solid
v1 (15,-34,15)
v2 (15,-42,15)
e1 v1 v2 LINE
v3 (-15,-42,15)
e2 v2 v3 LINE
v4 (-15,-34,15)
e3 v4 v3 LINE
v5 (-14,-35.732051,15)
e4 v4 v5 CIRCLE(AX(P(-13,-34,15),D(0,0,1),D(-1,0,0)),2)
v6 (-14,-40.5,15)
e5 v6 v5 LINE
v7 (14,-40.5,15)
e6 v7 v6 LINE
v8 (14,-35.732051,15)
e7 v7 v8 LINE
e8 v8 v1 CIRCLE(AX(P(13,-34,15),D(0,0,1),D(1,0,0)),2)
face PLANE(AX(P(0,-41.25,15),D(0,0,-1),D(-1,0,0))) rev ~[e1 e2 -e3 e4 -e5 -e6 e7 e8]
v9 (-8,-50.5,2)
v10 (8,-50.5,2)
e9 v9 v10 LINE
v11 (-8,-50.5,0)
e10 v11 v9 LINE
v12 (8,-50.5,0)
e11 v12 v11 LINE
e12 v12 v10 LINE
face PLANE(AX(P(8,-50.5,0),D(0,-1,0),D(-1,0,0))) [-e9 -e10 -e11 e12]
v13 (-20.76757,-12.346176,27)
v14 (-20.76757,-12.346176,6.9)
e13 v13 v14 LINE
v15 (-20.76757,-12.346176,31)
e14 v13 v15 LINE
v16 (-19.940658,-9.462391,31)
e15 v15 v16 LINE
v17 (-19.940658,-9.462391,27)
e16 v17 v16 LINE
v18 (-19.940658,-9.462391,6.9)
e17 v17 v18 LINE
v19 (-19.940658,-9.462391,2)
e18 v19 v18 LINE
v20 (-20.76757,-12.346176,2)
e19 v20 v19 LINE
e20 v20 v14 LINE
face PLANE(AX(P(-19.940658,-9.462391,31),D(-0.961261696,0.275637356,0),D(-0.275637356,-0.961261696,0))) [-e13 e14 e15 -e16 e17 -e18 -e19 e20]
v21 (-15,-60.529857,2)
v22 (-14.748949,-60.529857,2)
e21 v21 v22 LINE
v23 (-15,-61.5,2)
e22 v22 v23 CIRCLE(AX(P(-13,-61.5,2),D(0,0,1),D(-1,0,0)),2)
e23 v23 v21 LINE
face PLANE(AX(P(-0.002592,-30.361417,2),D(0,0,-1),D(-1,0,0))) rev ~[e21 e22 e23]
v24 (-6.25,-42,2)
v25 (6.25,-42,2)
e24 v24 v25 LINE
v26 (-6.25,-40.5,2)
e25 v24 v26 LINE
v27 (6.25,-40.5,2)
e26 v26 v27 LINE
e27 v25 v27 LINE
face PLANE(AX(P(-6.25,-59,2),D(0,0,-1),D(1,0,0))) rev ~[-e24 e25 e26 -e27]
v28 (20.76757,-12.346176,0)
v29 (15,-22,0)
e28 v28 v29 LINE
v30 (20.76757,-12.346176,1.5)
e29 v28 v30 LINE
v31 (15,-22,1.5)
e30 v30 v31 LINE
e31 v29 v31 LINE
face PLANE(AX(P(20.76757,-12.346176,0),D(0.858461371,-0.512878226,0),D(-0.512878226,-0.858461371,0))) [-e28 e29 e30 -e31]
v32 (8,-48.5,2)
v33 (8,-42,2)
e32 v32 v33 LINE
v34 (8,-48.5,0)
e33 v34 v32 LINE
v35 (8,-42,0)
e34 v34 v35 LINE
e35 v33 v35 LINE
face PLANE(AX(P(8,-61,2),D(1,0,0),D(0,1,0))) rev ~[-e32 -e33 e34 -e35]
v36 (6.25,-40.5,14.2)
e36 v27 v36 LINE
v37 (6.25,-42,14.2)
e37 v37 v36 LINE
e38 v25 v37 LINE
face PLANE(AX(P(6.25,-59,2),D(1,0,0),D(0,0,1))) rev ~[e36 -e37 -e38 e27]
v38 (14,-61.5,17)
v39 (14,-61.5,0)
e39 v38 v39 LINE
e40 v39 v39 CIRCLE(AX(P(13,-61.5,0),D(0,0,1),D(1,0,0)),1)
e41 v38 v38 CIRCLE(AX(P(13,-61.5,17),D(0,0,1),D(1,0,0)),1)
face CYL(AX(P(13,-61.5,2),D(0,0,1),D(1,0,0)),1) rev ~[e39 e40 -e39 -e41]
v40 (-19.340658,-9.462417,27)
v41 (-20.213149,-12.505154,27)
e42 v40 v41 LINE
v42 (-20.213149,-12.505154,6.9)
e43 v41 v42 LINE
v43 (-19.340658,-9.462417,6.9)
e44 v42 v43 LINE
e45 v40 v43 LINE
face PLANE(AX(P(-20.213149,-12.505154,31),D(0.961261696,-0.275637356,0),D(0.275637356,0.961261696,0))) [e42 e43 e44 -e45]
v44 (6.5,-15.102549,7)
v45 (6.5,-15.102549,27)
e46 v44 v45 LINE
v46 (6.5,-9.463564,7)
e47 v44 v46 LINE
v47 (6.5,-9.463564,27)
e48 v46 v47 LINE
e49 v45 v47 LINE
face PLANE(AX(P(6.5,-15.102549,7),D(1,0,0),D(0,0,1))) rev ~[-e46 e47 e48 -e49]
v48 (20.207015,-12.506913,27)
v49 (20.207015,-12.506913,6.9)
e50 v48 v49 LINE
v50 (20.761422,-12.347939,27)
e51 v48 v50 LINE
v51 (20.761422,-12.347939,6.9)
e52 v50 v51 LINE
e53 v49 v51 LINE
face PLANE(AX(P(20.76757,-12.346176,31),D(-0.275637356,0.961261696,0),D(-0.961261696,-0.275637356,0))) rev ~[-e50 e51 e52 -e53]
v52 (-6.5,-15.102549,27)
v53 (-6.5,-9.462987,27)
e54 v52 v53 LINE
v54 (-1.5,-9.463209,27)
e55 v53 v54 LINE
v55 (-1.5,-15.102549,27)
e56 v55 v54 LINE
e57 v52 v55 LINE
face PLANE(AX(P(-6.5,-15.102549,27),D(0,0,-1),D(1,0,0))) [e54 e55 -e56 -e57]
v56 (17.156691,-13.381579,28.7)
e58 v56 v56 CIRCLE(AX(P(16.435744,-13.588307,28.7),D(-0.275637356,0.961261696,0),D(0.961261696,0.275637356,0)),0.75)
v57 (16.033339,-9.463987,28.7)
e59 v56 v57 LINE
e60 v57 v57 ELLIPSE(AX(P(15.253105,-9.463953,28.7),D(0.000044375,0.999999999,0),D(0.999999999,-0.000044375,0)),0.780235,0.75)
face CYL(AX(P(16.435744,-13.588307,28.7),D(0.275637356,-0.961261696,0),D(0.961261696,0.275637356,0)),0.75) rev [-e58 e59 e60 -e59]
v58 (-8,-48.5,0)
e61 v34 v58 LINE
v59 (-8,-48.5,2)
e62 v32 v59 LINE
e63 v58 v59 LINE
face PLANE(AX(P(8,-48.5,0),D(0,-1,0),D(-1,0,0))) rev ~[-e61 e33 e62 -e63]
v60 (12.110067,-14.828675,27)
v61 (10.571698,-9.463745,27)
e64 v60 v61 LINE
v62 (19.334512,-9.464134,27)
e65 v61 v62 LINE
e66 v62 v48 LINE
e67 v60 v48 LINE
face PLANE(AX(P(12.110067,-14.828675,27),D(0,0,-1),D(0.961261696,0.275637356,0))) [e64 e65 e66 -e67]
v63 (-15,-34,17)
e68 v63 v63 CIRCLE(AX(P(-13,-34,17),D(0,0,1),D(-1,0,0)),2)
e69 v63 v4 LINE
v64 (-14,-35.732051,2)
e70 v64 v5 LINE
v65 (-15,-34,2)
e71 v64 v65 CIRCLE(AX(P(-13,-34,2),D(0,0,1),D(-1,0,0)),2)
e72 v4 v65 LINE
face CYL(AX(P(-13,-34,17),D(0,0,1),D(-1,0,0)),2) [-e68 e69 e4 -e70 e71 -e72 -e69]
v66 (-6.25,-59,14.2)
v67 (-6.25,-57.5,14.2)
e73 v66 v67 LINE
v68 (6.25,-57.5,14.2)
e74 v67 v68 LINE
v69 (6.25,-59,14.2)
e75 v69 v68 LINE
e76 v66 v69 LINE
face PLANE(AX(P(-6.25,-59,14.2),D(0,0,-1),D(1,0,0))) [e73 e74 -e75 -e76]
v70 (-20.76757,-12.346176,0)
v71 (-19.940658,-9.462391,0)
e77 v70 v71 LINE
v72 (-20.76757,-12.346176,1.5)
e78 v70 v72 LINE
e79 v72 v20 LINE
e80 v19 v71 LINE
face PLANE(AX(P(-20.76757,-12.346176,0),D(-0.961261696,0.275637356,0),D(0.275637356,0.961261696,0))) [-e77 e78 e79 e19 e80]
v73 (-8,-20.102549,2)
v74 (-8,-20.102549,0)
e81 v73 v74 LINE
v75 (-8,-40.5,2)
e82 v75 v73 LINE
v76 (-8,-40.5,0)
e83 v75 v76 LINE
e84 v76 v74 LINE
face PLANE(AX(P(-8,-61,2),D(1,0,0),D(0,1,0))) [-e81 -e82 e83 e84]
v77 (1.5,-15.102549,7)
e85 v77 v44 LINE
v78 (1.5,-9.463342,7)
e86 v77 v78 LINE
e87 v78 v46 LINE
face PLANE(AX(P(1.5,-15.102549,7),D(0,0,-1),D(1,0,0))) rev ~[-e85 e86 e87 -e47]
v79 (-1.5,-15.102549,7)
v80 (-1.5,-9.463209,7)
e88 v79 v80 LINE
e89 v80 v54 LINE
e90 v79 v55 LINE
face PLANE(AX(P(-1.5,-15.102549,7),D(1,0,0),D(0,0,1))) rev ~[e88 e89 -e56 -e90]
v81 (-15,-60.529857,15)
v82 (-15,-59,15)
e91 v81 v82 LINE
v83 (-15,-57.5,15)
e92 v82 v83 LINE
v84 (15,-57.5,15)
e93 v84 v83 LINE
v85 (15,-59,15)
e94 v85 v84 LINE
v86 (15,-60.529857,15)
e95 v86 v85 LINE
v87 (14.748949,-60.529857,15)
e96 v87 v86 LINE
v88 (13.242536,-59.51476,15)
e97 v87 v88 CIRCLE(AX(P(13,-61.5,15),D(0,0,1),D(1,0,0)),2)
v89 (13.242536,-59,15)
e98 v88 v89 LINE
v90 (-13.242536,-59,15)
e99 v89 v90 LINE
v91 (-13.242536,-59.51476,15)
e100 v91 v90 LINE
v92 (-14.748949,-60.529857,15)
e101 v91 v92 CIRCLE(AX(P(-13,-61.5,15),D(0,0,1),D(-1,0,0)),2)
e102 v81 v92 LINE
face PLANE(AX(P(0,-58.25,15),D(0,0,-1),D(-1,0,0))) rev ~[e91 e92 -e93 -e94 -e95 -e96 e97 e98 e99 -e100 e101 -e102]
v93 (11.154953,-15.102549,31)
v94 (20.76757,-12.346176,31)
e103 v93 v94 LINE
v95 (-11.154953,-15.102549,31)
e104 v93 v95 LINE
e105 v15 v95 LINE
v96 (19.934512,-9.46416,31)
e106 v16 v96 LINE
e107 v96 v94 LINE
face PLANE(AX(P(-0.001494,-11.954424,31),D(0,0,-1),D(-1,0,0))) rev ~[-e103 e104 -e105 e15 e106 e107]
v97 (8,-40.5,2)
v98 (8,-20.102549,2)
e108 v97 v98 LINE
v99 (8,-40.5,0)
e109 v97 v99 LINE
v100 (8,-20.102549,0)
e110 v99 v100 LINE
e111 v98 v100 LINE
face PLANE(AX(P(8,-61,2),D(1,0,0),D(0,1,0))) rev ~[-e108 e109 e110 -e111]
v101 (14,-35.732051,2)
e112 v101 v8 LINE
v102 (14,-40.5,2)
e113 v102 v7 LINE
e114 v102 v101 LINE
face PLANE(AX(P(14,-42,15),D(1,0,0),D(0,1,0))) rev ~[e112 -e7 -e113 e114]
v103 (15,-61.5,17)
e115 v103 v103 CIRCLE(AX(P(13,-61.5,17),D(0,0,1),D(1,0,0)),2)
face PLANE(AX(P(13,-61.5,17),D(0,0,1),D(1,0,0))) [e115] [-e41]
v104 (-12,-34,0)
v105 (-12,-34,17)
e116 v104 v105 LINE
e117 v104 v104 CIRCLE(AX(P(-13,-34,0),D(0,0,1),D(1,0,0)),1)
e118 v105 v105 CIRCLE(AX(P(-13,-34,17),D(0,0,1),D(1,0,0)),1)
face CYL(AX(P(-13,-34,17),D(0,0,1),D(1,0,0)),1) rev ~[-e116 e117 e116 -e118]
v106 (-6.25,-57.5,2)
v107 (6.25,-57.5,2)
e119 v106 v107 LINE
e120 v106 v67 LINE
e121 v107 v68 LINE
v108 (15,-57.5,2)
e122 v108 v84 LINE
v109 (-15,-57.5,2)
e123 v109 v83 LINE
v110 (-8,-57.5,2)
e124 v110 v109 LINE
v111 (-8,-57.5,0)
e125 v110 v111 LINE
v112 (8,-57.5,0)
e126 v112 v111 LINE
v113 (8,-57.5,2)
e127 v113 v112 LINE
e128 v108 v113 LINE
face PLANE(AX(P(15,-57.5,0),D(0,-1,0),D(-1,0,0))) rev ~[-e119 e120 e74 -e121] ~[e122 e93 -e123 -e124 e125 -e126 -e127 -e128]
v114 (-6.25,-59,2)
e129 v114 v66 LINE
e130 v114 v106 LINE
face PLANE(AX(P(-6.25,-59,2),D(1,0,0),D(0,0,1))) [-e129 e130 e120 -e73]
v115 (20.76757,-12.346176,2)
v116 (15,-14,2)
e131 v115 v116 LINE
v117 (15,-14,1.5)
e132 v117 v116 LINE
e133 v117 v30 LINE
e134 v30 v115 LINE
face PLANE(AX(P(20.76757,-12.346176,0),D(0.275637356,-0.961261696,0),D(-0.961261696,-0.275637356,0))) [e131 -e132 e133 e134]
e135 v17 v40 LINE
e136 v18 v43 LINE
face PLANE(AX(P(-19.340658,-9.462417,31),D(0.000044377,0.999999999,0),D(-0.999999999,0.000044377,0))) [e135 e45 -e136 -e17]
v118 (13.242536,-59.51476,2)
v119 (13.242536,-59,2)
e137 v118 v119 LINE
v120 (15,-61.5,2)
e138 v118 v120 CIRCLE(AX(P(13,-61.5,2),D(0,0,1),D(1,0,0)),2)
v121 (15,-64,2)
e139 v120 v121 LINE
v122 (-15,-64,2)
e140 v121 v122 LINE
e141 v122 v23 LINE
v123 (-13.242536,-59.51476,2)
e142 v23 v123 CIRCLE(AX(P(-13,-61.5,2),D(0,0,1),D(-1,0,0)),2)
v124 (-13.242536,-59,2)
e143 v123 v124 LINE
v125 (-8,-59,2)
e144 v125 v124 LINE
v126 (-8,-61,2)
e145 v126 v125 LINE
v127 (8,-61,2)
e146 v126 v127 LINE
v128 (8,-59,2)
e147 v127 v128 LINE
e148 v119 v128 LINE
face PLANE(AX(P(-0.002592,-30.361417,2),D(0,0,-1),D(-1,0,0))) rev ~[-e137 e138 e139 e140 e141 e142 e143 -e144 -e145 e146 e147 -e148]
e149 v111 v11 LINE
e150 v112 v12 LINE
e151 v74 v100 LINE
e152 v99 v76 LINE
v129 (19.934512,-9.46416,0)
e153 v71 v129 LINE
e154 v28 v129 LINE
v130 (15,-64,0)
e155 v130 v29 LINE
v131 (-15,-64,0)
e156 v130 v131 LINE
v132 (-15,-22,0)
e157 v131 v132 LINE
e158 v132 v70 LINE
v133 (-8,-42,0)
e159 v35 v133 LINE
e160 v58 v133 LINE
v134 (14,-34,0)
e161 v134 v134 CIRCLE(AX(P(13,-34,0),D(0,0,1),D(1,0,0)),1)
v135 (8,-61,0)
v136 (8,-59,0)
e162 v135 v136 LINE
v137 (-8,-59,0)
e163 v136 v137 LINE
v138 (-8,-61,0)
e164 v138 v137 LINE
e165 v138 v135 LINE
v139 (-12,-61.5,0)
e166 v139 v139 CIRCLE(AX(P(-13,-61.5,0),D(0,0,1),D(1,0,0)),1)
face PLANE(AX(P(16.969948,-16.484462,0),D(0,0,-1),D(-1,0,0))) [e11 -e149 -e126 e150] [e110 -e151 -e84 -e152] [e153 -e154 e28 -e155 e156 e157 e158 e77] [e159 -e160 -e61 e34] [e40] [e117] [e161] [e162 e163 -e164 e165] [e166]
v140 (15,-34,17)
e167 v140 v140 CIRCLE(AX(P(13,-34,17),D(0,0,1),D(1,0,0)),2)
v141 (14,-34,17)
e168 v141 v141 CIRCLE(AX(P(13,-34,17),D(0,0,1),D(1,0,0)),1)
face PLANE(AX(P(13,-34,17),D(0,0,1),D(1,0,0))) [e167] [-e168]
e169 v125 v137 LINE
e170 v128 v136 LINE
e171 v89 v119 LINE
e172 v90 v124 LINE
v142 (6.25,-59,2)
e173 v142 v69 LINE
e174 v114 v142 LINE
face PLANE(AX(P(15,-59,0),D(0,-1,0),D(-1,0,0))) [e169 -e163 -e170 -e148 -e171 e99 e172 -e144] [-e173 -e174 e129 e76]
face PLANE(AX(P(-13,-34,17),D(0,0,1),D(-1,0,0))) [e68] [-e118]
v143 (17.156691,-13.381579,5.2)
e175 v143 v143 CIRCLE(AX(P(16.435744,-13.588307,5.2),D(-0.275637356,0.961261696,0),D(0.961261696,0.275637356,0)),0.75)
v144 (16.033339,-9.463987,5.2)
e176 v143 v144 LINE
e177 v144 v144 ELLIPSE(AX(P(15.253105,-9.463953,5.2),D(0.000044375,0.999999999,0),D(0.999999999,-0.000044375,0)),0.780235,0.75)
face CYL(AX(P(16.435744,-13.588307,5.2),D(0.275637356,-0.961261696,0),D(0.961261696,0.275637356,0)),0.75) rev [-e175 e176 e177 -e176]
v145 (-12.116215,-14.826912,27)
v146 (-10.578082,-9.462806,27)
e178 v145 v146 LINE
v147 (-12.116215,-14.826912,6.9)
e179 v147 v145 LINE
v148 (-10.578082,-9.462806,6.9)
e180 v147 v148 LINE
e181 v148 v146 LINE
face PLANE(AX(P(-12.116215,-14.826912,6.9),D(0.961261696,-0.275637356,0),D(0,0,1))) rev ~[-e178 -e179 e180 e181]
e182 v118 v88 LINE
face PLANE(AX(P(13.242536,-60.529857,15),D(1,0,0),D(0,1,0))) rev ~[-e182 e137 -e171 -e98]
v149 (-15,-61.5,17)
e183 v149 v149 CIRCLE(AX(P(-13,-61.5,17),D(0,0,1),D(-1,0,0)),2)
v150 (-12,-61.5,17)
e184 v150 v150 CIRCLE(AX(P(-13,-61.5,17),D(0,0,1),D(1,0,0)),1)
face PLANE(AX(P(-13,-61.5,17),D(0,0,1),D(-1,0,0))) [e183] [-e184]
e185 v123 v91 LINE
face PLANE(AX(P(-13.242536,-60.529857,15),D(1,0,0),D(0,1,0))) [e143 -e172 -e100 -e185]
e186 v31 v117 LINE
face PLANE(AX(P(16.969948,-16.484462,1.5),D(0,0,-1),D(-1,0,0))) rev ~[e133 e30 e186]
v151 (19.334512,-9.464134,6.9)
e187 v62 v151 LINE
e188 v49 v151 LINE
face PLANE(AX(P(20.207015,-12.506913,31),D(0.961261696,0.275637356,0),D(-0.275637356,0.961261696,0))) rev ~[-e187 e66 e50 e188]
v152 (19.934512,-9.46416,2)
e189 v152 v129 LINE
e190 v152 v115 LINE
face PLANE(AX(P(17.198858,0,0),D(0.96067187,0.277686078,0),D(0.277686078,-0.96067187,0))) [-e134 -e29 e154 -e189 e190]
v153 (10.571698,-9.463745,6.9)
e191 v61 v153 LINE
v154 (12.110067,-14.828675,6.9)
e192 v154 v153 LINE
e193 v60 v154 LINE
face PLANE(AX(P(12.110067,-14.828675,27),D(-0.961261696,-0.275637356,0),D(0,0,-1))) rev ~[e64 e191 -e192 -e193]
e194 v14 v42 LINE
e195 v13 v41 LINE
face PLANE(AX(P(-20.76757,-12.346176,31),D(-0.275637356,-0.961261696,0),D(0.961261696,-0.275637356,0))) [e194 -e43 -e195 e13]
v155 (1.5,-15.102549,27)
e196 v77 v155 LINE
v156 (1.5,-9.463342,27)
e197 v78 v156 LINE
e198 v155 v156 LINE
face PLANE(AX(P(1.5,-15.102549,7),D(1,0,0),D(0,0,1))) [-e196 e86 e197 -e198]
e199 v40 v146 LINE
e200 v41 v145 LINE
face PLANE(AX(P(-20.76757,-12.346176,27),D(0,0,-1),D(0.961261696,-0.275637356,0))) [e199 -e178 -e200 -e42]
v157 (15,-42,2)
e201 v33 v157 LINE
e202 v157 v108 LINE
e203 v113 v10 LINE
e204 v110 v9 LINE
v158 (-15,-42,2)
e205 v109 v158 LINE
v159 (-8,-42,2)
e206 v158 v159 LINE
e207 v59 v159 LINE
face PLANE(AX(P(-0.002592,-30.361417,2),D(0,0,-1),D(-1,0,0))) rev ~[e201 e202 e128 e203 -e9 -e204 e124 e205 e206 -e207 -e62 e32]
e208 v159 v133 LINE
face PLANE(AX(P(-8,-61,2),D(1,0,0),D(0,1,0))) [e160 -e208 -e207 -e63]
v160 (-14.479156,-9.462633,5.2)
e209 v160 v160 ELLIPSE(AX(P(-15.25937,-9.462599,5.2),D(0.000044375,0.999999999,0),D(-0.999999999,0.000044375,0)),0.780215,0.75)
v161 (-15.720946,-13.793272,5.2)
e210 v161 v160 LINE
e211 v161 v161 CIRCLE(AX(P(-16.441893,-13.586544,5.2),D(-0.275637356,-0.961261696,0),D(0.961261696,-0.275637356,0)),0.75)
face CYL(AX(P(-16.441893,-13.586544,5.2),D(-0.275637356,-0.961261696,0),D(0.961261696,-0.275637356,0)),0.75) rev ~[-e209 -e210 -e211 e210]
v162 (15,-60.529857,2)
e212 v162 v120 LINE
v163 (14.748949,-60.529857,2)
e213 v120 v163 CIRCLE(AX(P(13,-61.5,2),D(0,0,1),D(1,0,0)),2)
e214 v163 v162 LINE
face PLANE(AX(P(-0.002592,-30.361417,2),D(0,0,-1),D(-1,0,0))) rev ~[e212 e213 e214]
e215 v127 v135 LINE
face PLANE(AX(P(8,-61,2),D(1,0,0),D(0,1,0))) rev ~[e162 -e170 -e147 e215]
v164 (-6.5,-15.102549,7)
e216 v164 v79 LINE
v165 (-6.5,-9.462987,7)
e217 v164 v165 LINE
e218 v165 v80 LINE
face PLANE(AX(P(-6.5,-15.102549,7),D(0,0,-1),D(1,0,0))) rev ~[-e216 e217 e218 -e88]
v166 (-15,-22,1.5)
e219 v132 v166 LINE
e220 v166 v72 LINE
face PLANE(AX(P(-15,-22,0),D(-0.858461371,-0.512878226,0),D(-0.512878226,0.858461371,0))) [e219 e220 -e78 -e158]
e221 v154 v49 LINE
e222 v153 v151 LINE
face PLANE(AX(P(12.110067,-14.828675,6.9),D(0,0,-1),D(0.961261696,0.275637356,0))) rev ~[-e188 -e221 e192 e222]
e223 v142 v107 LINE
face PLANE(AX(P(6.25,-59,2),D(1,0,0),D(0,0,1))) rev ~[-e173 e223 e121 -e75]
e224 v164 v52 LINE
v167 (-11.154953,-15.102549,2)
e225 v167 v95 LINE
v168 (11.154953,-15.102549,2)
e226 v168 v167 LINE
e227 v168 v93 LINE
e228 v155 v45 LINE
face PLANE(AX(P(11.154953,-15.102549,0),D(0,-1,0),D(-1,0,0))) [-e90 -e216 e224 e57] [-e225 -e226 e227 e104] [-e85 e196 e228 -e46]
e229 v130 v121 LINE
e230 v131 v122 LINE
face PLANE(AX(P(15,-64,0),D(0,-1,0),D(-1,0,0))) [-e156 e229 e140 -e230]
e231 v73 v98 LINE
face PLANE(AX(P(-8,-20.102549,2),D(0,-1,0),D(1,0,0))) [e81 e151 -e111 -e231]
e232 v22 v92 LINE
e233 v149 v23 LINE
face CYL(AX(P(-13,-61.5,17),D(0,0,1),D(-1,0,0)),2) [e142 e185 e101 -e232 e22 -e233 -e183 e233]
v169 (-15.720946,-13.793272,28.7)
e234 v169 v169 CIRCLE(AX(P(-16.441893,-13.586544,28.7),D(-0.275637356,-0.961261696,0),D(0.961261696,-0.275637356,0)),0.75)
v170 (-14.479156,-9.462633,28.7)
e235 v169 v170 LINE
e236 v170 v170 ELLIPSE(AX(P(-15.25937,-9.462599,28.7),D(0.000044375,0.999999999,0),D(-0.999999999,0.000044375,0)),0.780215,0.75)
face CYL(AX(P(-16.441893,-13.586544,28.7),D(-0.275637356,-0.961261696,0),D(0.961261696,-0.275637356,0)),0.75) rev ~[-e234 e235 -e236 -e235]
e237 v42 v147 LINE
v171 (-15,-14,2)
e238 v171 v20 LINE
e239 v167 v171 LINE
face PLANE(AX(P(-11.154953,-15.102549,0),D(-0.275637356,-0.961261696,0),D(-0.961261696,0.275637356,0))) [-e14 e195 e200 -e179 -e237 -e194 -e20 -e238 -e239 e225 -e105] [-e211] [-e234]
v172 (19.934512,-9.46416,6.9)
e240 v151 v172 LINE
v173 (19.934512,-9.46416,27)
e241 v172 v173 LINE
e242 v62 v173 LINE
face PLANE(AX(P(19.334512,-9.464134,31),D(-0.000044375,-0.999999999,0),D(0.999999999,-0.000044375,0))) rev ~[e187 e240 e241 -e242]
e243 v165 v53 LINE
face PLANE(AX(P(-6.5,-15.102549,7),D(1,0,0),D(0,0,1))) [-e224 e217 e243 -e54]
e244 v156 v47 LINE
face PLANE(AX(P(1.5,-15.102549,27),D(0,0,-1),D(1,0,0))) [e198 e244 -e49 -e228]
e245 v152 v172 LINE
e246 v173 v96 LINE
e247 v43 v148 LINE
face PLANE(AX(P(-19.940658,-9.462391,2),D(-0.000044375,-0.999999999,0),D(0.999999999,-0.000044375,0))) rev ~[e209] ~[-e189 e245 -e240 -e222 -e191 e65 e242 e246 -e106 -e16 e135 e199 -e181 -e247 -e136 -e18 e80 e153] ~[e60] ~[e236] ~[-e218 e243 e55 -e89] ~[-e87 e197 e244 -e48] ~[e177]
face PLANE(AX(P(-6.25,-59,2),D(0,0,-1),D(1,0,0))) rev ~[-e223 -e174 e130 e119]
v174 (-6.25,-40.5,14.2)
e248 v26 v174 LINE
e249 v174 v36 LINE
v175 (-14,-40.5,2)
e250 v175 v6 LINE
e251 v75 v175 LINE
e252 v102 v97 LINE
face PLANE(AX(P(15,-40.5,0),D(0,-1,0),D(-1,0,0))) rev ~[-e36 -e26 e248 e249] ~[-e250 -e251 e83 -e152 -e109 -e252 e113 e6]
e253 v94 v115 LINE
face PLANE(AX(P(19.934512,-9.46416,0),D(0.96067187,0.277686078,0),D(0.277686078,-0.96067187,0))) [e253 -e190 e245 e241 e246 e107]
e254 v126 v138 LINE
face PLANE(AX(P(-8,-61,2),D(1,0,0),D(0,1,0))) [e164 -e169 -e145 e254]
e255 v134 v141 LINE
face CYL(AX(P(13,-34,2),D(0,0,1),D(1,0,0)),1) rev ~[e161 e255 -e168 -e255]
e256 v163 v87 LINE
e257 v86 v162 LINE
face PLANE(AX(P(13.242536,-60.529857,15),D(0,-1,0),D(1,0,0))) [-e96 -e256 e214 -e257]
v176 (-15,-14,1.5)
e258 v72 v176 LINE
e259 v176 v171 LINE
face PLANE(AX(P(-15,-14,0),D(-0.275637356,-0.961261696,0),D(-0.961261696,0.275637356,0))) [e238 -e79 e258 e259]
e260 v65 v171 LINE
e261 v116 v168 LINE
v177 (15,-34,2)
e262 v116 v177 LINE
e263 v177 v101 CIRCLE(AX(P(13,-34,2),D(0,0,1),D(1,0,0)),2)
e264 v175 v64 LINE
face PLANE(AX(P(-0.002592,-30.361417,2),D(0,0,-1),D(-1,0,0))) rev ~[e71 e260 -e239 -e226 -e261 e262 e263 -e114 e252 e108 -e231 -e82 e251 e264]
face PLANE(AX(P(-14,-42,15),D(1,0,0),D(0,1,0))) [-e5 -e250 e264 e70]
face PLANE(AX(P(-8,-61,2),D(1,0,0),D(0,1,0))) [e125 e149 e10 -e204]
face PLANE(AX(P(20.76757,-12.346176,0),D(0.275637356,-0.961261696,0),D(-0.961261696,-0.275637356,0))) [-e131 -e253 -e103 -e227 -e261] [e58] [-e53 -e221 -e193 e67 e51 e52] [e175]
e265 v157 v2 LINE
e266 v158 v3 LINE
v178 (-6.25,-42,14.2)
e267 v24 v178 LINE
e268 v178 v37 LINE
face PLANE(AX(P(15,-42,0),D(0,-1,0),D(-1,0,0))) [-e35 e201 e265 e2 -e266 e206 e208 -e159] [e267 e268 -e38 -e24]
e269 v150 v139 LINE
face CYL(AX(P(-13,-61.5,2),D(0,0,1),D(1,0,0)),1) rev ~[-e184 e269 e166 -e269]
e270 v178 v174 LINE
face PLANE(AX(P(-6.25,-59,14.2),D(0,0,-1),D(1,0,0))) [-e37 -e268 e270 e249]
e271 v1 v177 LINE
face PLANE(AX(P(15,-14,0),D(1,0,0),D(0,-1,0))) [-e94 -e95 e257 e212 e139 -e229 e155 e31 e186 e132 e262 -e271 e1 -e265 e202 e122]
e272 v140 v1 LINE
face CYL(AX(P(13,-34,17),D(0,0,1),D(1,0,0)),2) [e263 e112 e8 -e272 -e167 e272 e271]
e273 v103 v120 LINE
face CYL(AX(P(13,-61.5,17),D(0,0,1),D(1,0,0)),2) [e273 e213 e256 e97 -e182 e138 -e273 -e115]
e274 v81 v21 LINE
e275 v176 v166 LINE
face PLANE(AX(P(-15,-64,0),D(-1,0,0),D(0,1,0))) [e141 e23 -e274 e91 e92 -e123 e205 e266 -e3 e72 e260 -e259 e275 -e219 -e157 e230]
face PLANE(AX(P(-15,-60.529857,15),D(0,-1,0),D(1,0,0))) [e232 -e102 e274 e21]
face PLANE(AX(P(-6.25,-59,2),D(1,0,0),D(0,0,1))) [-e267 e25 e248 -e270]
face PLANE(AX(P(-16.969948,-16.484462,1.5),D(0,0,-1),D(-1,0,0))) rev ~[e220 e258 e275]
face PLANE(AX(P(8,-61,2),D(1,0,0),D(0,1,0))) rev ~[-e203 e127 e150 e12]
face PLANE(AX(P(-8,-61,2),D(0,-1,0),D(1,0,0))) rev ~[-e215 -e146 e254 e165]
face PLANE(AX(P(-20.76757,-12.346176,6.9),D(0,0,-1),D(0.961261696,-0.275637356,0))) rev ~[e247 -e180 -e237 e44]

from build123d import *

# Parameters (mm, degrees)
EXTRUDE_1_DEPTH      = 2
EXTRUDE_2_DEPTH      = 29
EXTRUDE_2_DEPTH_BACK = 2
CUT_EXTRUDE_5_REACH  = 63.117
SKETCH_3_R           = 0.75
SKETCH_3_W           = 9
SKETCH_3_H           = 20.1
CUT_EXTRUDE_7_REACH  = 63.924
SKETCH_12_R          = 0.75
SKETCH_12_W          = 9
SKETCH_12_H          = 20.1
CUT_EXTRUDE_8_REACH  = 75.269
SKETCH_13_R          = 1
SKETCH_13_W          = 16
SKETCH_13_H          = 40.897450577
EXTRUDE_START        = 15
SKETCH_15_R          = 2
SKETCH_15_R_2        = 1
EXTRUDE_9_DEPTH      = 15
CUT_EXTRUDE_9_REACH  = 63.508
SKETCH_16_W          = 5
SKETCH_16_H          = 20
EXTRUDE_10_DEPTH     = 24.1
EXTRUDE_11_DEPTH     = 1.5
CUT_EXTRUDE_10_REACH = 75.269
SKETCH_20_W          = 30
SKETCH_20_H          = 1.5
EXTRUDE_12_DEPTH     = 15
SKETCH_21_W          = 16
SKETCH_21_H          = 2
EXTRUDE_13_DEPTH     = 2
SKETCH_22_W          = 1
SKETCH_22_H          = 8
SKETCH_22_W_2        = 1.757464375
SKETCH_22_H_2        = 1.5298575
EXTRUDE_14_DEPTH     = 13
CUT_EXTRUDE_11_REACH = 64.018
SKETCH_23_W          = 12.5
SKETCH_23_H          = 12.2


with BuildPart() as part:
    # 草圖1 → 填料-伸長1 (new body)
    with BuildSketch(Plane.XY):
        Polygon((-15, 0), (15, 0), (17.19885826, 0), (20.767570176, -12.346175865), (15, -14), (15, -64), (-15, -64), (-15, -14), (-20.767570176, -12.346175865), (-17.227361215, 0), align=None)
    extrude(amount=EXTRUDE_1_DEPTH)

    # 草圖2 → 填料-伸長2 (add, two sides: drawn at the far end of the back side and taken through both)
    with BuildSketch(Plane.XY.offset(2).offset(-EXTRUDE_2_DEPTH_BACK)):
        Polygon((-19.940658108, -9.462390777), (19.934511943, -9.464160254), (20.767570176, -12.346175865), (11.154953216, -15.102549423), (-11.154953216, -15.102549423), (-20.767570176, -12.346175865), align=None)
    extrude(amount=EXTRUDE_2_DEPTH + EXTRUDE_2_DEPTH_BACK)

    # 草圖3 → 除料-伸長5 (cut, up to next)
    with BuildSketch(Plane(origin=(3.55693642, -17.281245681, 0), x_dir=(0.9612616959383193, 0.2756373558169973, 0), z_dir=(-0.2756373558169973, 0.9612616959383194, 0)), mode=Mode.PRIVATE) as cut_extrude_5_sk1:
        with Locations((13.397816779, -5.2)):
            Circle(SKETCH_3_R)
    cut_extrude_5_tool1 = extrude(cut_extrude_5_sk1.sketch, amount=CUT_EXTRUDE_5_REACH, mode=Mode.PRIVATE) & part.part
    # 草圖3 → 除料-伸長5 (cut, up to next)
    with BuildSketch(Plane(origin=(3.55693642, -17.281245681, 0), x_dir=(0.9612616959383193, 0.2756373558169973, 0), z_dir=(-0.2756373558169973, 0.9612616959383194, 0)), mode=Mode.PRIVATE) as cut_extrude_5_sk2:
        with Locations((13.397816779, -28.7)):
            Circle(SKETCH_3_R)
    cut_extrude_5_tool2 = extrude(cut_extrude_5_sk2.sketch, amount=CUT_EXTRUDE_5_REACH, mode=Mode.PRIVATE) & part.part
    # 草圖3 → 除料-伸長5 (cut, up to next)
    with BuildSketch(Plane(origin=(3.55693642, -17.281245681, 0), x_dir=(0.9612616959383193, 0.2756373558169973, 0), z_dir=(-0.2756373558169973, 0.9612616959383194, 0)), mode=Mode.PRIVATE) as cut_extrude_5_sk3:
        with Locations((13.397816779, -16.95)):
            Rectangle(SKETCH_3_W, SKETCH_3_H)
    cut_extrude_5_tool3 = extrude(cut_extrude_5_sk3.sketch, amount=CUT_EXTRUDE_5_REACH, mode=Mode.PRIVATE) & part.part
    add(cut_extrude_5_tool1.solids().sort_by_distance((16.435744, -13.588307, 5.2))[0], mode=Mode.SUBTRACT)
    add(cut_extrude_5_tool2.solids().sort_by_distance((16.435744, -13.588307, 28.7))[0], mode=Mode.SUBTRACT)
    add(cut_extrude_5_tool3.solids().sort_by_distance((16.435744, -13.588307, 16.95))[0], mode=Mode.SUBTRACT)

    # 除料-伸長7: up to this plane
    cut_extrude_7_end = Plane(origin=(-19.940658108, -9.462390777, 0), z_dir=(4.437541139610382e-05, 0.9999999990154116, 0))
    # 草圖12 → 除料-伸長7 (cut, up to the surface)
    with BuildSketch(Plane(origin=(-4.849074128, -16.910731155, 0), x_dir=(0.9612616959383179, -0.2756373558170027, 0), z_dir=(-0.2756373558170027, -0.9612616959383179, 0)), mode=Mode.PRIVATE) as cut_extrude_7_sk1:
        with Locations((-12.060002458, 28.7)):
            Circle(SKETCH_12_R)
    cut_extrude_7_tool1 = split(extrude(cut_extrude_7_sk1.sketch, amount=-CUT_EXTRUDE_7_REACH, mode=Mode.PRIVATE), bisect_by=cut_extrude_7_end, keep=Keep.BOTH, mode=Mode.PRIVATE)
    add(cut_extrude_7_tool1.solids().sort_by_distance((-16.441893, -13.586544, 28.7))[0], mode=Mode.SUBTRACT)
    # 草圖12 → 除料-伸長7 (cut, up to the surface)
    with BuildSketch(Plane(origin=(-4.849074128, -16.910731155, 0), x_dir=(0.9612616959383179, -0.2756373558170027, 0), z_dir=(-0.2756373558170027, -0.9612616959383179, 0)), mode=Mode.PRIVATE) as cut_extrude_7_sk2:
        with Locations((-12.060002458, 5.2)):
            Circle(SKETCH_12_R)
    cut_extrude_7_tool2 = split(extrude(cut_extrude_7_sk2.sketch, amount=-CUT_EXTRUDE_7_REACH, mode=Mode.PRIVATE), bisect_by=cut_extrude_7_end, keep=Keep.BOTH, mode=Mode.PRIVATE)
    add(cut_extrude_7_tool2.solids().sort_by_distance((-16.441893, -13.586544, 5.2))[0], mode=Mode.SUBTRACT)
    # 草圖12 → 除料-伸長7 (cut, up to the surface)
    with BuildSketch(Plane(origin=(-4.849074128, -16.910731155, 0), x_dir=(0.9612616959383179, -0.2756373558170027, 0), z_dir=(-0.2756373558170027, -0.9612616959383179, 0)), mode=Mode.PRIVATE) as cut_extrude_7_sk3:
        with Locations((-12.060002458, 16.95)):
            Rectangle(SKETCH_12_W, SKETCH_12_H)
    cut_extrude_7_tool3 = split(extrude(cut_extrude_7_sk3.sketch, amount=-CUT_EXTRUDE_7_REACH, mode=Mode.PRIVATE), bisect_by=cut_extrude_7_end, keep=Keep.BOTH, mode=Mode.PRIVATE)
    add(cut_extrude_7_tool3.solids().sort_by_distance((-16.441893, -13.586544, 16.95))[0], mode=Mode.SUBTRACT)

    # 草圖13 → 除料-伸長8 (cut, up to next)
    with BuildSketch(Plane.XY.offset(2), mode=Mode.PRIVATE) as cut_extrude_8_sk1:
        with Locations((-13, -34)):
            Circle(SKETCH_13_R)
    cut_extrude_8_tool1 = extrude(cut_extrude_8_sk1.sketch, amount=-CUT_EXTRUDE_8_REACH, mode=Mode.PRIVATE) & part.part
    # 草圖13 → 除料-伸長8 (cut, up to next)
    with BuildSketch(Plane.XY.offset(2), mode=Mode.PRIVATE) as cut_extrude_8_sk2:
        with Locations((13, -34)):
            Circle(SKETCH_13_R)
    cut_extrude_8_tool2 = extrude(cut_extrude_8_sk2.sketch, amount=-CUT_EXTRUDE_8_REACH, mode=Mode.PRIVATE) & part.part
    # 草圖13 → 除料-伸長8 (cut, up to next)
    with BuildSketch(Plane.XY.offset(2), mode=Mode.PRIVATE) as cut_extrude_8_sk3:
        with Locations((-13, -61.5)):
            Circle(SKETCH_13_R)
    cut_extrude_8_tool3 = extrude(cut_extrude_8_sk3.sketch, amount=-CUT_EXTRUDE_8_REACH, mode=Mode.PRIVATE) & part.part
    # 草圖13 → 除料-伸長8 (cut, up to next)
    with BuildSketch(Plane.XY.offset(2), mode=Mode.PRIVATE) as cut_extrude_8_sk4:
        with Locations((13, -61.5)):
            Circle(SKETCH_13_R)
    cut_extrude_8_tool4 = extrude(cut_extrude_8_sk4.sketch, amount=-CUT_EXTRUDE_8_REACH, mode=Mode.PRIVATE) & part.part
    # 草圖13 → 除料-伸長8 (cut, up to next)
    with BuildSketch(Plane.XY.offset(2), mode=Mode.PRIVATE) as cut_extrude_8_sk5:
        with Locations((0, -40.551274712)):
            Rectangle(SKETCH_13_W, SKETCH_13_H)
    cut_extrude_8_tool5 = extrude(cut_extrude_8_sk5.sketch, amount=-CUT_EXTRUDE_8_REACH, mode=Mode.PRIVATE) & part.part
    add(cut_extrude_8_tool1.solids().sort_by_distance((-13, -34, 2))[0], mode=Mode.SUBTRACT)
    add(cut_extrude_8_tool2.solids().sort_by_distance((13, -34, 2))[0], mode=Mode.SUBTRACT)
    add(cut_extrude_8_tool3.solids().sort_by_distance((-13, -61.5, 2))[0], mode=Mode.SUBTRACT)
    add(cut_extrude_8_tool4.solids().sort_by_distance((13, -61.5, 2))[0], mode=Mode.SUBTRACT)
    add(cut_extrude_8_tool5.solids().sort_by_distance((0, -40.551275, 2))[0], mode=Mode.SUBTRACT)

    # 草圖15 → 填料-伸長9 (add)
    # profile 1 of 4: a face of its own
    with BuildSketch(Plane.XY.offset(2).offset(EXTRUDE_START)):
        with Locations(Location((-13, -34, 0), (0, 0, 180))):
            Circle(SKETCH_15_R)
        with Locations((-13, -34)):
            Circle(SKETCH_15_R_2, mode=Mode.SUBTRACT)
    # profile 2 of 4: a face of its own
    with BuildSketch(Plane.XY.offset(2).offset(EXTRUDE_START)):
        with Locations((13, -34)):
            Circle(SKETCH_15_R)
        with Locations((13, -34)):
            Circle(SKETCH_15_R_2, mode=Mode.SUBTRACT)
    # profile 3 of 4: a face of its own
    with BuildSketch(Plane.XY.offset(2).offset(EXTRUDE_START)):
        with Locations((13, -61.5)):
            Circle(SKETCH_15_R)
        with Locations((13, -61.5)):
            Circle(SKETCH_15_R_2, mode=Mode.SUBTRACT)
    # profile 4 of 4: a face of its own
    with BuildSketch(Plane.XY.offset(2).offset(EXTRUDE_START)):
        with Locations(Location((-13, -61.5, 0), (0, 0, 180))):
            Circle(SKETCH_15_R)
        with Locations((-13, -61.5)):
            Circle(SKETCH_15_R_2, mode=Mode.SUBTRACT)
    extrude(amount=-EXTRUDE_9_DEPTH)

    # 草圖16 → 除料-伸長9 (cut, up to next)
    with BuildSketch(Plane.XZ.offset(15.102549423), mode=Mode.PRIVATE) as cut_extrude_9_sk1:
        with Locations((-4, 17)):
            Rectangle(SKETCH_16_W, SKETCH_16_H)
    cut_extrude_9_tool1 = extrude(cut_extrude_9_sk1.sketch, amount=-CUT_EXTRUDE_9_REACH, mode=Mode.PRIVATE) & part.part
    # 草圖16 → 除料-伸長9 (cut, up to next)
    with BuildSketch(Plane.XZ.offset(15.102549423), mode=Mode.PRIVATE) as cut_extrude_9_sk2:
        with Locations((4, 17)):
            Rectangle(SKETCH_16_W, SKETCH_16_H)
    cut_extrude_9_tool2 = extrude(cut_extrude_9_sk2.sketch, amount=-CUT_EXTRUDE_9_REACH, mode=Mode.PRIVATE) & part.part
    add(cut_extrude_9_tool1.solids().sort_by_distance((-4, -15.102549, 17))[0], mode=Mode.SUBTRACT)
    add(cut_extrude_9_tool2.solids().sort_by_distance((4, -15.102549, 17))[0], mode=Mode.SUBTRACT)

    # 草圖17 → 填料-伸長10 (add)
    with BuildSketch(Plane.XY.offset(31)):
        Polygon((-19.940658108, -9.462390777), (-20.767570176, -12.346175865), (-20.213148693, -12.505153667), (-19.340658109, -9.462417403), align=None)
        Polygon((19.334511943, -9.464133629), (19.934511943, -9.464160254), (20.767570176, -12.346175865), (20.207014757, -12.506912545), align=None)
    extrude(amount=-EXTRUDE_10_DEPTH)

    # 草圖18 → 填料-伸長11 (add)
    with BuildSketch(Plane(origin=(0, 0, 0), x_dir=(-1, 0, 0), z_dir=(0, 0, -1))):
        Polygon((-20.767570176, -12.346175865), (-15, -22), (-15, -14), align=None)
        Polygon((20.767570176, -12.346175865), (15, -14), (15, -22), align=None)
    extrude(amount=-EXTRUDE_11_DEPTH)

    # 草圖19 → 除料-伸長10 (cut, up to next)
    with BuildSketch(Plane.XY.offset(2), mode=Mode.PRIVATE) as cut_extrude_10_sk1:
        Polygon((-19.940658108, -9.462390777), (19.934511943, -9.464160254), (19.934511943, 2.341545169), (-19.940658108, 2.341545169), align=None)
    cut_extrude_10_tool1 = extrude(cut_extrude_10_sk1.sketch, amount=-CUT_EXTRUDE_10_REACH, mode=Mode.PRIVATE) & part.part
    add(cut_extrude_10_tool1.solids().sort_by_distance((-0.002575, -3.560865, 2))[0], mode=Mode.SUBTRACT)

    # 草圖20 → 填料-伸長12 (add)
    with BuildSketch(Plane(origin=(0, 0, 0), x_dir=(-1, 0, 0), z_dir=(0, 0, -1))):
        with Locations((0, -58.25)):
            Rectangle(SKETCH_20_W, SKETCH_20_H)
        with Locations((0, -41.25)):
            Rectangle(SKETCH_20_W, SKETCH_20_H)
    extrude(amount=-EXTRUDE_12_DEPTH)

    # 草圖21 → 填料-伸長13 (add)
    with BuildSketch(Plane(origin=(0, 0, 0), x_dir=(-1, 0, 0), z_dir=(0, 0, -1))):
        with Locations((0, -49.5)):
            Rectangle(SKETCH_21_W, SKETCH_21_H)
    extrude(amount=-EXTRUDE_13_DEPTH)

    # 草圖22 → 填料-伸長14 (add)
    with BuildSketch(Plane.XY.offset(15)):
        with Locations((14.5, -38)):
            Rectangle(SKETCH_22_W, SKETCH_22_H)
        with Locations((-14.5, -38)):
            Rectangle(SKETCH_22_W, SKETCH_22_H)
        with Locations((14.121267813, -59.76492875)):
            Rectangle(SKETCH_22_W_2, SKETCH_22_H_2)
        with Locations((-14.121267813, -59.76492875)):
            Rectangle(SKETCH_22_W_2, SKETCH_22_H_2)
    extrude(amount=-EXTRUDE_14_DEPTH)

    # 除料-伸長11: up to this face of the body (flat: up to its plane)
    cut_extrude_11_end = Plane(part.part.faces().sort_by_distance((0, -40.5, 7.893939394))[0])
    # 草圖23 → 除料-伸長11 (cut, up to the picked face)
    with BuildSketch(Plane.XZ.offset(59), mode=Mode.PRIVATE) as cut_extrude_11_sk1:
        with Locations((0, 8.1)):
            Rectangle(SKETCH_23_W, SKETCH_23_H)
    cut_extrude_11_tool1 = split(extrude(cut_extrude_11_sk1.sketch, amount=-CUT_EXTRUDE_11_REACH, mode=Mode.PRIVATE), bisect_by=cut_extrude_11_end, keep=Keep.BOTH, mode=Mode.PRIVATE)
    add(cut_extrude_11_tool1.solids().sort_by(Axis((0, -59, 8.1), (0, 1, 0)))[0], mode=Mode.SUBTRACT)


solid = part.part
